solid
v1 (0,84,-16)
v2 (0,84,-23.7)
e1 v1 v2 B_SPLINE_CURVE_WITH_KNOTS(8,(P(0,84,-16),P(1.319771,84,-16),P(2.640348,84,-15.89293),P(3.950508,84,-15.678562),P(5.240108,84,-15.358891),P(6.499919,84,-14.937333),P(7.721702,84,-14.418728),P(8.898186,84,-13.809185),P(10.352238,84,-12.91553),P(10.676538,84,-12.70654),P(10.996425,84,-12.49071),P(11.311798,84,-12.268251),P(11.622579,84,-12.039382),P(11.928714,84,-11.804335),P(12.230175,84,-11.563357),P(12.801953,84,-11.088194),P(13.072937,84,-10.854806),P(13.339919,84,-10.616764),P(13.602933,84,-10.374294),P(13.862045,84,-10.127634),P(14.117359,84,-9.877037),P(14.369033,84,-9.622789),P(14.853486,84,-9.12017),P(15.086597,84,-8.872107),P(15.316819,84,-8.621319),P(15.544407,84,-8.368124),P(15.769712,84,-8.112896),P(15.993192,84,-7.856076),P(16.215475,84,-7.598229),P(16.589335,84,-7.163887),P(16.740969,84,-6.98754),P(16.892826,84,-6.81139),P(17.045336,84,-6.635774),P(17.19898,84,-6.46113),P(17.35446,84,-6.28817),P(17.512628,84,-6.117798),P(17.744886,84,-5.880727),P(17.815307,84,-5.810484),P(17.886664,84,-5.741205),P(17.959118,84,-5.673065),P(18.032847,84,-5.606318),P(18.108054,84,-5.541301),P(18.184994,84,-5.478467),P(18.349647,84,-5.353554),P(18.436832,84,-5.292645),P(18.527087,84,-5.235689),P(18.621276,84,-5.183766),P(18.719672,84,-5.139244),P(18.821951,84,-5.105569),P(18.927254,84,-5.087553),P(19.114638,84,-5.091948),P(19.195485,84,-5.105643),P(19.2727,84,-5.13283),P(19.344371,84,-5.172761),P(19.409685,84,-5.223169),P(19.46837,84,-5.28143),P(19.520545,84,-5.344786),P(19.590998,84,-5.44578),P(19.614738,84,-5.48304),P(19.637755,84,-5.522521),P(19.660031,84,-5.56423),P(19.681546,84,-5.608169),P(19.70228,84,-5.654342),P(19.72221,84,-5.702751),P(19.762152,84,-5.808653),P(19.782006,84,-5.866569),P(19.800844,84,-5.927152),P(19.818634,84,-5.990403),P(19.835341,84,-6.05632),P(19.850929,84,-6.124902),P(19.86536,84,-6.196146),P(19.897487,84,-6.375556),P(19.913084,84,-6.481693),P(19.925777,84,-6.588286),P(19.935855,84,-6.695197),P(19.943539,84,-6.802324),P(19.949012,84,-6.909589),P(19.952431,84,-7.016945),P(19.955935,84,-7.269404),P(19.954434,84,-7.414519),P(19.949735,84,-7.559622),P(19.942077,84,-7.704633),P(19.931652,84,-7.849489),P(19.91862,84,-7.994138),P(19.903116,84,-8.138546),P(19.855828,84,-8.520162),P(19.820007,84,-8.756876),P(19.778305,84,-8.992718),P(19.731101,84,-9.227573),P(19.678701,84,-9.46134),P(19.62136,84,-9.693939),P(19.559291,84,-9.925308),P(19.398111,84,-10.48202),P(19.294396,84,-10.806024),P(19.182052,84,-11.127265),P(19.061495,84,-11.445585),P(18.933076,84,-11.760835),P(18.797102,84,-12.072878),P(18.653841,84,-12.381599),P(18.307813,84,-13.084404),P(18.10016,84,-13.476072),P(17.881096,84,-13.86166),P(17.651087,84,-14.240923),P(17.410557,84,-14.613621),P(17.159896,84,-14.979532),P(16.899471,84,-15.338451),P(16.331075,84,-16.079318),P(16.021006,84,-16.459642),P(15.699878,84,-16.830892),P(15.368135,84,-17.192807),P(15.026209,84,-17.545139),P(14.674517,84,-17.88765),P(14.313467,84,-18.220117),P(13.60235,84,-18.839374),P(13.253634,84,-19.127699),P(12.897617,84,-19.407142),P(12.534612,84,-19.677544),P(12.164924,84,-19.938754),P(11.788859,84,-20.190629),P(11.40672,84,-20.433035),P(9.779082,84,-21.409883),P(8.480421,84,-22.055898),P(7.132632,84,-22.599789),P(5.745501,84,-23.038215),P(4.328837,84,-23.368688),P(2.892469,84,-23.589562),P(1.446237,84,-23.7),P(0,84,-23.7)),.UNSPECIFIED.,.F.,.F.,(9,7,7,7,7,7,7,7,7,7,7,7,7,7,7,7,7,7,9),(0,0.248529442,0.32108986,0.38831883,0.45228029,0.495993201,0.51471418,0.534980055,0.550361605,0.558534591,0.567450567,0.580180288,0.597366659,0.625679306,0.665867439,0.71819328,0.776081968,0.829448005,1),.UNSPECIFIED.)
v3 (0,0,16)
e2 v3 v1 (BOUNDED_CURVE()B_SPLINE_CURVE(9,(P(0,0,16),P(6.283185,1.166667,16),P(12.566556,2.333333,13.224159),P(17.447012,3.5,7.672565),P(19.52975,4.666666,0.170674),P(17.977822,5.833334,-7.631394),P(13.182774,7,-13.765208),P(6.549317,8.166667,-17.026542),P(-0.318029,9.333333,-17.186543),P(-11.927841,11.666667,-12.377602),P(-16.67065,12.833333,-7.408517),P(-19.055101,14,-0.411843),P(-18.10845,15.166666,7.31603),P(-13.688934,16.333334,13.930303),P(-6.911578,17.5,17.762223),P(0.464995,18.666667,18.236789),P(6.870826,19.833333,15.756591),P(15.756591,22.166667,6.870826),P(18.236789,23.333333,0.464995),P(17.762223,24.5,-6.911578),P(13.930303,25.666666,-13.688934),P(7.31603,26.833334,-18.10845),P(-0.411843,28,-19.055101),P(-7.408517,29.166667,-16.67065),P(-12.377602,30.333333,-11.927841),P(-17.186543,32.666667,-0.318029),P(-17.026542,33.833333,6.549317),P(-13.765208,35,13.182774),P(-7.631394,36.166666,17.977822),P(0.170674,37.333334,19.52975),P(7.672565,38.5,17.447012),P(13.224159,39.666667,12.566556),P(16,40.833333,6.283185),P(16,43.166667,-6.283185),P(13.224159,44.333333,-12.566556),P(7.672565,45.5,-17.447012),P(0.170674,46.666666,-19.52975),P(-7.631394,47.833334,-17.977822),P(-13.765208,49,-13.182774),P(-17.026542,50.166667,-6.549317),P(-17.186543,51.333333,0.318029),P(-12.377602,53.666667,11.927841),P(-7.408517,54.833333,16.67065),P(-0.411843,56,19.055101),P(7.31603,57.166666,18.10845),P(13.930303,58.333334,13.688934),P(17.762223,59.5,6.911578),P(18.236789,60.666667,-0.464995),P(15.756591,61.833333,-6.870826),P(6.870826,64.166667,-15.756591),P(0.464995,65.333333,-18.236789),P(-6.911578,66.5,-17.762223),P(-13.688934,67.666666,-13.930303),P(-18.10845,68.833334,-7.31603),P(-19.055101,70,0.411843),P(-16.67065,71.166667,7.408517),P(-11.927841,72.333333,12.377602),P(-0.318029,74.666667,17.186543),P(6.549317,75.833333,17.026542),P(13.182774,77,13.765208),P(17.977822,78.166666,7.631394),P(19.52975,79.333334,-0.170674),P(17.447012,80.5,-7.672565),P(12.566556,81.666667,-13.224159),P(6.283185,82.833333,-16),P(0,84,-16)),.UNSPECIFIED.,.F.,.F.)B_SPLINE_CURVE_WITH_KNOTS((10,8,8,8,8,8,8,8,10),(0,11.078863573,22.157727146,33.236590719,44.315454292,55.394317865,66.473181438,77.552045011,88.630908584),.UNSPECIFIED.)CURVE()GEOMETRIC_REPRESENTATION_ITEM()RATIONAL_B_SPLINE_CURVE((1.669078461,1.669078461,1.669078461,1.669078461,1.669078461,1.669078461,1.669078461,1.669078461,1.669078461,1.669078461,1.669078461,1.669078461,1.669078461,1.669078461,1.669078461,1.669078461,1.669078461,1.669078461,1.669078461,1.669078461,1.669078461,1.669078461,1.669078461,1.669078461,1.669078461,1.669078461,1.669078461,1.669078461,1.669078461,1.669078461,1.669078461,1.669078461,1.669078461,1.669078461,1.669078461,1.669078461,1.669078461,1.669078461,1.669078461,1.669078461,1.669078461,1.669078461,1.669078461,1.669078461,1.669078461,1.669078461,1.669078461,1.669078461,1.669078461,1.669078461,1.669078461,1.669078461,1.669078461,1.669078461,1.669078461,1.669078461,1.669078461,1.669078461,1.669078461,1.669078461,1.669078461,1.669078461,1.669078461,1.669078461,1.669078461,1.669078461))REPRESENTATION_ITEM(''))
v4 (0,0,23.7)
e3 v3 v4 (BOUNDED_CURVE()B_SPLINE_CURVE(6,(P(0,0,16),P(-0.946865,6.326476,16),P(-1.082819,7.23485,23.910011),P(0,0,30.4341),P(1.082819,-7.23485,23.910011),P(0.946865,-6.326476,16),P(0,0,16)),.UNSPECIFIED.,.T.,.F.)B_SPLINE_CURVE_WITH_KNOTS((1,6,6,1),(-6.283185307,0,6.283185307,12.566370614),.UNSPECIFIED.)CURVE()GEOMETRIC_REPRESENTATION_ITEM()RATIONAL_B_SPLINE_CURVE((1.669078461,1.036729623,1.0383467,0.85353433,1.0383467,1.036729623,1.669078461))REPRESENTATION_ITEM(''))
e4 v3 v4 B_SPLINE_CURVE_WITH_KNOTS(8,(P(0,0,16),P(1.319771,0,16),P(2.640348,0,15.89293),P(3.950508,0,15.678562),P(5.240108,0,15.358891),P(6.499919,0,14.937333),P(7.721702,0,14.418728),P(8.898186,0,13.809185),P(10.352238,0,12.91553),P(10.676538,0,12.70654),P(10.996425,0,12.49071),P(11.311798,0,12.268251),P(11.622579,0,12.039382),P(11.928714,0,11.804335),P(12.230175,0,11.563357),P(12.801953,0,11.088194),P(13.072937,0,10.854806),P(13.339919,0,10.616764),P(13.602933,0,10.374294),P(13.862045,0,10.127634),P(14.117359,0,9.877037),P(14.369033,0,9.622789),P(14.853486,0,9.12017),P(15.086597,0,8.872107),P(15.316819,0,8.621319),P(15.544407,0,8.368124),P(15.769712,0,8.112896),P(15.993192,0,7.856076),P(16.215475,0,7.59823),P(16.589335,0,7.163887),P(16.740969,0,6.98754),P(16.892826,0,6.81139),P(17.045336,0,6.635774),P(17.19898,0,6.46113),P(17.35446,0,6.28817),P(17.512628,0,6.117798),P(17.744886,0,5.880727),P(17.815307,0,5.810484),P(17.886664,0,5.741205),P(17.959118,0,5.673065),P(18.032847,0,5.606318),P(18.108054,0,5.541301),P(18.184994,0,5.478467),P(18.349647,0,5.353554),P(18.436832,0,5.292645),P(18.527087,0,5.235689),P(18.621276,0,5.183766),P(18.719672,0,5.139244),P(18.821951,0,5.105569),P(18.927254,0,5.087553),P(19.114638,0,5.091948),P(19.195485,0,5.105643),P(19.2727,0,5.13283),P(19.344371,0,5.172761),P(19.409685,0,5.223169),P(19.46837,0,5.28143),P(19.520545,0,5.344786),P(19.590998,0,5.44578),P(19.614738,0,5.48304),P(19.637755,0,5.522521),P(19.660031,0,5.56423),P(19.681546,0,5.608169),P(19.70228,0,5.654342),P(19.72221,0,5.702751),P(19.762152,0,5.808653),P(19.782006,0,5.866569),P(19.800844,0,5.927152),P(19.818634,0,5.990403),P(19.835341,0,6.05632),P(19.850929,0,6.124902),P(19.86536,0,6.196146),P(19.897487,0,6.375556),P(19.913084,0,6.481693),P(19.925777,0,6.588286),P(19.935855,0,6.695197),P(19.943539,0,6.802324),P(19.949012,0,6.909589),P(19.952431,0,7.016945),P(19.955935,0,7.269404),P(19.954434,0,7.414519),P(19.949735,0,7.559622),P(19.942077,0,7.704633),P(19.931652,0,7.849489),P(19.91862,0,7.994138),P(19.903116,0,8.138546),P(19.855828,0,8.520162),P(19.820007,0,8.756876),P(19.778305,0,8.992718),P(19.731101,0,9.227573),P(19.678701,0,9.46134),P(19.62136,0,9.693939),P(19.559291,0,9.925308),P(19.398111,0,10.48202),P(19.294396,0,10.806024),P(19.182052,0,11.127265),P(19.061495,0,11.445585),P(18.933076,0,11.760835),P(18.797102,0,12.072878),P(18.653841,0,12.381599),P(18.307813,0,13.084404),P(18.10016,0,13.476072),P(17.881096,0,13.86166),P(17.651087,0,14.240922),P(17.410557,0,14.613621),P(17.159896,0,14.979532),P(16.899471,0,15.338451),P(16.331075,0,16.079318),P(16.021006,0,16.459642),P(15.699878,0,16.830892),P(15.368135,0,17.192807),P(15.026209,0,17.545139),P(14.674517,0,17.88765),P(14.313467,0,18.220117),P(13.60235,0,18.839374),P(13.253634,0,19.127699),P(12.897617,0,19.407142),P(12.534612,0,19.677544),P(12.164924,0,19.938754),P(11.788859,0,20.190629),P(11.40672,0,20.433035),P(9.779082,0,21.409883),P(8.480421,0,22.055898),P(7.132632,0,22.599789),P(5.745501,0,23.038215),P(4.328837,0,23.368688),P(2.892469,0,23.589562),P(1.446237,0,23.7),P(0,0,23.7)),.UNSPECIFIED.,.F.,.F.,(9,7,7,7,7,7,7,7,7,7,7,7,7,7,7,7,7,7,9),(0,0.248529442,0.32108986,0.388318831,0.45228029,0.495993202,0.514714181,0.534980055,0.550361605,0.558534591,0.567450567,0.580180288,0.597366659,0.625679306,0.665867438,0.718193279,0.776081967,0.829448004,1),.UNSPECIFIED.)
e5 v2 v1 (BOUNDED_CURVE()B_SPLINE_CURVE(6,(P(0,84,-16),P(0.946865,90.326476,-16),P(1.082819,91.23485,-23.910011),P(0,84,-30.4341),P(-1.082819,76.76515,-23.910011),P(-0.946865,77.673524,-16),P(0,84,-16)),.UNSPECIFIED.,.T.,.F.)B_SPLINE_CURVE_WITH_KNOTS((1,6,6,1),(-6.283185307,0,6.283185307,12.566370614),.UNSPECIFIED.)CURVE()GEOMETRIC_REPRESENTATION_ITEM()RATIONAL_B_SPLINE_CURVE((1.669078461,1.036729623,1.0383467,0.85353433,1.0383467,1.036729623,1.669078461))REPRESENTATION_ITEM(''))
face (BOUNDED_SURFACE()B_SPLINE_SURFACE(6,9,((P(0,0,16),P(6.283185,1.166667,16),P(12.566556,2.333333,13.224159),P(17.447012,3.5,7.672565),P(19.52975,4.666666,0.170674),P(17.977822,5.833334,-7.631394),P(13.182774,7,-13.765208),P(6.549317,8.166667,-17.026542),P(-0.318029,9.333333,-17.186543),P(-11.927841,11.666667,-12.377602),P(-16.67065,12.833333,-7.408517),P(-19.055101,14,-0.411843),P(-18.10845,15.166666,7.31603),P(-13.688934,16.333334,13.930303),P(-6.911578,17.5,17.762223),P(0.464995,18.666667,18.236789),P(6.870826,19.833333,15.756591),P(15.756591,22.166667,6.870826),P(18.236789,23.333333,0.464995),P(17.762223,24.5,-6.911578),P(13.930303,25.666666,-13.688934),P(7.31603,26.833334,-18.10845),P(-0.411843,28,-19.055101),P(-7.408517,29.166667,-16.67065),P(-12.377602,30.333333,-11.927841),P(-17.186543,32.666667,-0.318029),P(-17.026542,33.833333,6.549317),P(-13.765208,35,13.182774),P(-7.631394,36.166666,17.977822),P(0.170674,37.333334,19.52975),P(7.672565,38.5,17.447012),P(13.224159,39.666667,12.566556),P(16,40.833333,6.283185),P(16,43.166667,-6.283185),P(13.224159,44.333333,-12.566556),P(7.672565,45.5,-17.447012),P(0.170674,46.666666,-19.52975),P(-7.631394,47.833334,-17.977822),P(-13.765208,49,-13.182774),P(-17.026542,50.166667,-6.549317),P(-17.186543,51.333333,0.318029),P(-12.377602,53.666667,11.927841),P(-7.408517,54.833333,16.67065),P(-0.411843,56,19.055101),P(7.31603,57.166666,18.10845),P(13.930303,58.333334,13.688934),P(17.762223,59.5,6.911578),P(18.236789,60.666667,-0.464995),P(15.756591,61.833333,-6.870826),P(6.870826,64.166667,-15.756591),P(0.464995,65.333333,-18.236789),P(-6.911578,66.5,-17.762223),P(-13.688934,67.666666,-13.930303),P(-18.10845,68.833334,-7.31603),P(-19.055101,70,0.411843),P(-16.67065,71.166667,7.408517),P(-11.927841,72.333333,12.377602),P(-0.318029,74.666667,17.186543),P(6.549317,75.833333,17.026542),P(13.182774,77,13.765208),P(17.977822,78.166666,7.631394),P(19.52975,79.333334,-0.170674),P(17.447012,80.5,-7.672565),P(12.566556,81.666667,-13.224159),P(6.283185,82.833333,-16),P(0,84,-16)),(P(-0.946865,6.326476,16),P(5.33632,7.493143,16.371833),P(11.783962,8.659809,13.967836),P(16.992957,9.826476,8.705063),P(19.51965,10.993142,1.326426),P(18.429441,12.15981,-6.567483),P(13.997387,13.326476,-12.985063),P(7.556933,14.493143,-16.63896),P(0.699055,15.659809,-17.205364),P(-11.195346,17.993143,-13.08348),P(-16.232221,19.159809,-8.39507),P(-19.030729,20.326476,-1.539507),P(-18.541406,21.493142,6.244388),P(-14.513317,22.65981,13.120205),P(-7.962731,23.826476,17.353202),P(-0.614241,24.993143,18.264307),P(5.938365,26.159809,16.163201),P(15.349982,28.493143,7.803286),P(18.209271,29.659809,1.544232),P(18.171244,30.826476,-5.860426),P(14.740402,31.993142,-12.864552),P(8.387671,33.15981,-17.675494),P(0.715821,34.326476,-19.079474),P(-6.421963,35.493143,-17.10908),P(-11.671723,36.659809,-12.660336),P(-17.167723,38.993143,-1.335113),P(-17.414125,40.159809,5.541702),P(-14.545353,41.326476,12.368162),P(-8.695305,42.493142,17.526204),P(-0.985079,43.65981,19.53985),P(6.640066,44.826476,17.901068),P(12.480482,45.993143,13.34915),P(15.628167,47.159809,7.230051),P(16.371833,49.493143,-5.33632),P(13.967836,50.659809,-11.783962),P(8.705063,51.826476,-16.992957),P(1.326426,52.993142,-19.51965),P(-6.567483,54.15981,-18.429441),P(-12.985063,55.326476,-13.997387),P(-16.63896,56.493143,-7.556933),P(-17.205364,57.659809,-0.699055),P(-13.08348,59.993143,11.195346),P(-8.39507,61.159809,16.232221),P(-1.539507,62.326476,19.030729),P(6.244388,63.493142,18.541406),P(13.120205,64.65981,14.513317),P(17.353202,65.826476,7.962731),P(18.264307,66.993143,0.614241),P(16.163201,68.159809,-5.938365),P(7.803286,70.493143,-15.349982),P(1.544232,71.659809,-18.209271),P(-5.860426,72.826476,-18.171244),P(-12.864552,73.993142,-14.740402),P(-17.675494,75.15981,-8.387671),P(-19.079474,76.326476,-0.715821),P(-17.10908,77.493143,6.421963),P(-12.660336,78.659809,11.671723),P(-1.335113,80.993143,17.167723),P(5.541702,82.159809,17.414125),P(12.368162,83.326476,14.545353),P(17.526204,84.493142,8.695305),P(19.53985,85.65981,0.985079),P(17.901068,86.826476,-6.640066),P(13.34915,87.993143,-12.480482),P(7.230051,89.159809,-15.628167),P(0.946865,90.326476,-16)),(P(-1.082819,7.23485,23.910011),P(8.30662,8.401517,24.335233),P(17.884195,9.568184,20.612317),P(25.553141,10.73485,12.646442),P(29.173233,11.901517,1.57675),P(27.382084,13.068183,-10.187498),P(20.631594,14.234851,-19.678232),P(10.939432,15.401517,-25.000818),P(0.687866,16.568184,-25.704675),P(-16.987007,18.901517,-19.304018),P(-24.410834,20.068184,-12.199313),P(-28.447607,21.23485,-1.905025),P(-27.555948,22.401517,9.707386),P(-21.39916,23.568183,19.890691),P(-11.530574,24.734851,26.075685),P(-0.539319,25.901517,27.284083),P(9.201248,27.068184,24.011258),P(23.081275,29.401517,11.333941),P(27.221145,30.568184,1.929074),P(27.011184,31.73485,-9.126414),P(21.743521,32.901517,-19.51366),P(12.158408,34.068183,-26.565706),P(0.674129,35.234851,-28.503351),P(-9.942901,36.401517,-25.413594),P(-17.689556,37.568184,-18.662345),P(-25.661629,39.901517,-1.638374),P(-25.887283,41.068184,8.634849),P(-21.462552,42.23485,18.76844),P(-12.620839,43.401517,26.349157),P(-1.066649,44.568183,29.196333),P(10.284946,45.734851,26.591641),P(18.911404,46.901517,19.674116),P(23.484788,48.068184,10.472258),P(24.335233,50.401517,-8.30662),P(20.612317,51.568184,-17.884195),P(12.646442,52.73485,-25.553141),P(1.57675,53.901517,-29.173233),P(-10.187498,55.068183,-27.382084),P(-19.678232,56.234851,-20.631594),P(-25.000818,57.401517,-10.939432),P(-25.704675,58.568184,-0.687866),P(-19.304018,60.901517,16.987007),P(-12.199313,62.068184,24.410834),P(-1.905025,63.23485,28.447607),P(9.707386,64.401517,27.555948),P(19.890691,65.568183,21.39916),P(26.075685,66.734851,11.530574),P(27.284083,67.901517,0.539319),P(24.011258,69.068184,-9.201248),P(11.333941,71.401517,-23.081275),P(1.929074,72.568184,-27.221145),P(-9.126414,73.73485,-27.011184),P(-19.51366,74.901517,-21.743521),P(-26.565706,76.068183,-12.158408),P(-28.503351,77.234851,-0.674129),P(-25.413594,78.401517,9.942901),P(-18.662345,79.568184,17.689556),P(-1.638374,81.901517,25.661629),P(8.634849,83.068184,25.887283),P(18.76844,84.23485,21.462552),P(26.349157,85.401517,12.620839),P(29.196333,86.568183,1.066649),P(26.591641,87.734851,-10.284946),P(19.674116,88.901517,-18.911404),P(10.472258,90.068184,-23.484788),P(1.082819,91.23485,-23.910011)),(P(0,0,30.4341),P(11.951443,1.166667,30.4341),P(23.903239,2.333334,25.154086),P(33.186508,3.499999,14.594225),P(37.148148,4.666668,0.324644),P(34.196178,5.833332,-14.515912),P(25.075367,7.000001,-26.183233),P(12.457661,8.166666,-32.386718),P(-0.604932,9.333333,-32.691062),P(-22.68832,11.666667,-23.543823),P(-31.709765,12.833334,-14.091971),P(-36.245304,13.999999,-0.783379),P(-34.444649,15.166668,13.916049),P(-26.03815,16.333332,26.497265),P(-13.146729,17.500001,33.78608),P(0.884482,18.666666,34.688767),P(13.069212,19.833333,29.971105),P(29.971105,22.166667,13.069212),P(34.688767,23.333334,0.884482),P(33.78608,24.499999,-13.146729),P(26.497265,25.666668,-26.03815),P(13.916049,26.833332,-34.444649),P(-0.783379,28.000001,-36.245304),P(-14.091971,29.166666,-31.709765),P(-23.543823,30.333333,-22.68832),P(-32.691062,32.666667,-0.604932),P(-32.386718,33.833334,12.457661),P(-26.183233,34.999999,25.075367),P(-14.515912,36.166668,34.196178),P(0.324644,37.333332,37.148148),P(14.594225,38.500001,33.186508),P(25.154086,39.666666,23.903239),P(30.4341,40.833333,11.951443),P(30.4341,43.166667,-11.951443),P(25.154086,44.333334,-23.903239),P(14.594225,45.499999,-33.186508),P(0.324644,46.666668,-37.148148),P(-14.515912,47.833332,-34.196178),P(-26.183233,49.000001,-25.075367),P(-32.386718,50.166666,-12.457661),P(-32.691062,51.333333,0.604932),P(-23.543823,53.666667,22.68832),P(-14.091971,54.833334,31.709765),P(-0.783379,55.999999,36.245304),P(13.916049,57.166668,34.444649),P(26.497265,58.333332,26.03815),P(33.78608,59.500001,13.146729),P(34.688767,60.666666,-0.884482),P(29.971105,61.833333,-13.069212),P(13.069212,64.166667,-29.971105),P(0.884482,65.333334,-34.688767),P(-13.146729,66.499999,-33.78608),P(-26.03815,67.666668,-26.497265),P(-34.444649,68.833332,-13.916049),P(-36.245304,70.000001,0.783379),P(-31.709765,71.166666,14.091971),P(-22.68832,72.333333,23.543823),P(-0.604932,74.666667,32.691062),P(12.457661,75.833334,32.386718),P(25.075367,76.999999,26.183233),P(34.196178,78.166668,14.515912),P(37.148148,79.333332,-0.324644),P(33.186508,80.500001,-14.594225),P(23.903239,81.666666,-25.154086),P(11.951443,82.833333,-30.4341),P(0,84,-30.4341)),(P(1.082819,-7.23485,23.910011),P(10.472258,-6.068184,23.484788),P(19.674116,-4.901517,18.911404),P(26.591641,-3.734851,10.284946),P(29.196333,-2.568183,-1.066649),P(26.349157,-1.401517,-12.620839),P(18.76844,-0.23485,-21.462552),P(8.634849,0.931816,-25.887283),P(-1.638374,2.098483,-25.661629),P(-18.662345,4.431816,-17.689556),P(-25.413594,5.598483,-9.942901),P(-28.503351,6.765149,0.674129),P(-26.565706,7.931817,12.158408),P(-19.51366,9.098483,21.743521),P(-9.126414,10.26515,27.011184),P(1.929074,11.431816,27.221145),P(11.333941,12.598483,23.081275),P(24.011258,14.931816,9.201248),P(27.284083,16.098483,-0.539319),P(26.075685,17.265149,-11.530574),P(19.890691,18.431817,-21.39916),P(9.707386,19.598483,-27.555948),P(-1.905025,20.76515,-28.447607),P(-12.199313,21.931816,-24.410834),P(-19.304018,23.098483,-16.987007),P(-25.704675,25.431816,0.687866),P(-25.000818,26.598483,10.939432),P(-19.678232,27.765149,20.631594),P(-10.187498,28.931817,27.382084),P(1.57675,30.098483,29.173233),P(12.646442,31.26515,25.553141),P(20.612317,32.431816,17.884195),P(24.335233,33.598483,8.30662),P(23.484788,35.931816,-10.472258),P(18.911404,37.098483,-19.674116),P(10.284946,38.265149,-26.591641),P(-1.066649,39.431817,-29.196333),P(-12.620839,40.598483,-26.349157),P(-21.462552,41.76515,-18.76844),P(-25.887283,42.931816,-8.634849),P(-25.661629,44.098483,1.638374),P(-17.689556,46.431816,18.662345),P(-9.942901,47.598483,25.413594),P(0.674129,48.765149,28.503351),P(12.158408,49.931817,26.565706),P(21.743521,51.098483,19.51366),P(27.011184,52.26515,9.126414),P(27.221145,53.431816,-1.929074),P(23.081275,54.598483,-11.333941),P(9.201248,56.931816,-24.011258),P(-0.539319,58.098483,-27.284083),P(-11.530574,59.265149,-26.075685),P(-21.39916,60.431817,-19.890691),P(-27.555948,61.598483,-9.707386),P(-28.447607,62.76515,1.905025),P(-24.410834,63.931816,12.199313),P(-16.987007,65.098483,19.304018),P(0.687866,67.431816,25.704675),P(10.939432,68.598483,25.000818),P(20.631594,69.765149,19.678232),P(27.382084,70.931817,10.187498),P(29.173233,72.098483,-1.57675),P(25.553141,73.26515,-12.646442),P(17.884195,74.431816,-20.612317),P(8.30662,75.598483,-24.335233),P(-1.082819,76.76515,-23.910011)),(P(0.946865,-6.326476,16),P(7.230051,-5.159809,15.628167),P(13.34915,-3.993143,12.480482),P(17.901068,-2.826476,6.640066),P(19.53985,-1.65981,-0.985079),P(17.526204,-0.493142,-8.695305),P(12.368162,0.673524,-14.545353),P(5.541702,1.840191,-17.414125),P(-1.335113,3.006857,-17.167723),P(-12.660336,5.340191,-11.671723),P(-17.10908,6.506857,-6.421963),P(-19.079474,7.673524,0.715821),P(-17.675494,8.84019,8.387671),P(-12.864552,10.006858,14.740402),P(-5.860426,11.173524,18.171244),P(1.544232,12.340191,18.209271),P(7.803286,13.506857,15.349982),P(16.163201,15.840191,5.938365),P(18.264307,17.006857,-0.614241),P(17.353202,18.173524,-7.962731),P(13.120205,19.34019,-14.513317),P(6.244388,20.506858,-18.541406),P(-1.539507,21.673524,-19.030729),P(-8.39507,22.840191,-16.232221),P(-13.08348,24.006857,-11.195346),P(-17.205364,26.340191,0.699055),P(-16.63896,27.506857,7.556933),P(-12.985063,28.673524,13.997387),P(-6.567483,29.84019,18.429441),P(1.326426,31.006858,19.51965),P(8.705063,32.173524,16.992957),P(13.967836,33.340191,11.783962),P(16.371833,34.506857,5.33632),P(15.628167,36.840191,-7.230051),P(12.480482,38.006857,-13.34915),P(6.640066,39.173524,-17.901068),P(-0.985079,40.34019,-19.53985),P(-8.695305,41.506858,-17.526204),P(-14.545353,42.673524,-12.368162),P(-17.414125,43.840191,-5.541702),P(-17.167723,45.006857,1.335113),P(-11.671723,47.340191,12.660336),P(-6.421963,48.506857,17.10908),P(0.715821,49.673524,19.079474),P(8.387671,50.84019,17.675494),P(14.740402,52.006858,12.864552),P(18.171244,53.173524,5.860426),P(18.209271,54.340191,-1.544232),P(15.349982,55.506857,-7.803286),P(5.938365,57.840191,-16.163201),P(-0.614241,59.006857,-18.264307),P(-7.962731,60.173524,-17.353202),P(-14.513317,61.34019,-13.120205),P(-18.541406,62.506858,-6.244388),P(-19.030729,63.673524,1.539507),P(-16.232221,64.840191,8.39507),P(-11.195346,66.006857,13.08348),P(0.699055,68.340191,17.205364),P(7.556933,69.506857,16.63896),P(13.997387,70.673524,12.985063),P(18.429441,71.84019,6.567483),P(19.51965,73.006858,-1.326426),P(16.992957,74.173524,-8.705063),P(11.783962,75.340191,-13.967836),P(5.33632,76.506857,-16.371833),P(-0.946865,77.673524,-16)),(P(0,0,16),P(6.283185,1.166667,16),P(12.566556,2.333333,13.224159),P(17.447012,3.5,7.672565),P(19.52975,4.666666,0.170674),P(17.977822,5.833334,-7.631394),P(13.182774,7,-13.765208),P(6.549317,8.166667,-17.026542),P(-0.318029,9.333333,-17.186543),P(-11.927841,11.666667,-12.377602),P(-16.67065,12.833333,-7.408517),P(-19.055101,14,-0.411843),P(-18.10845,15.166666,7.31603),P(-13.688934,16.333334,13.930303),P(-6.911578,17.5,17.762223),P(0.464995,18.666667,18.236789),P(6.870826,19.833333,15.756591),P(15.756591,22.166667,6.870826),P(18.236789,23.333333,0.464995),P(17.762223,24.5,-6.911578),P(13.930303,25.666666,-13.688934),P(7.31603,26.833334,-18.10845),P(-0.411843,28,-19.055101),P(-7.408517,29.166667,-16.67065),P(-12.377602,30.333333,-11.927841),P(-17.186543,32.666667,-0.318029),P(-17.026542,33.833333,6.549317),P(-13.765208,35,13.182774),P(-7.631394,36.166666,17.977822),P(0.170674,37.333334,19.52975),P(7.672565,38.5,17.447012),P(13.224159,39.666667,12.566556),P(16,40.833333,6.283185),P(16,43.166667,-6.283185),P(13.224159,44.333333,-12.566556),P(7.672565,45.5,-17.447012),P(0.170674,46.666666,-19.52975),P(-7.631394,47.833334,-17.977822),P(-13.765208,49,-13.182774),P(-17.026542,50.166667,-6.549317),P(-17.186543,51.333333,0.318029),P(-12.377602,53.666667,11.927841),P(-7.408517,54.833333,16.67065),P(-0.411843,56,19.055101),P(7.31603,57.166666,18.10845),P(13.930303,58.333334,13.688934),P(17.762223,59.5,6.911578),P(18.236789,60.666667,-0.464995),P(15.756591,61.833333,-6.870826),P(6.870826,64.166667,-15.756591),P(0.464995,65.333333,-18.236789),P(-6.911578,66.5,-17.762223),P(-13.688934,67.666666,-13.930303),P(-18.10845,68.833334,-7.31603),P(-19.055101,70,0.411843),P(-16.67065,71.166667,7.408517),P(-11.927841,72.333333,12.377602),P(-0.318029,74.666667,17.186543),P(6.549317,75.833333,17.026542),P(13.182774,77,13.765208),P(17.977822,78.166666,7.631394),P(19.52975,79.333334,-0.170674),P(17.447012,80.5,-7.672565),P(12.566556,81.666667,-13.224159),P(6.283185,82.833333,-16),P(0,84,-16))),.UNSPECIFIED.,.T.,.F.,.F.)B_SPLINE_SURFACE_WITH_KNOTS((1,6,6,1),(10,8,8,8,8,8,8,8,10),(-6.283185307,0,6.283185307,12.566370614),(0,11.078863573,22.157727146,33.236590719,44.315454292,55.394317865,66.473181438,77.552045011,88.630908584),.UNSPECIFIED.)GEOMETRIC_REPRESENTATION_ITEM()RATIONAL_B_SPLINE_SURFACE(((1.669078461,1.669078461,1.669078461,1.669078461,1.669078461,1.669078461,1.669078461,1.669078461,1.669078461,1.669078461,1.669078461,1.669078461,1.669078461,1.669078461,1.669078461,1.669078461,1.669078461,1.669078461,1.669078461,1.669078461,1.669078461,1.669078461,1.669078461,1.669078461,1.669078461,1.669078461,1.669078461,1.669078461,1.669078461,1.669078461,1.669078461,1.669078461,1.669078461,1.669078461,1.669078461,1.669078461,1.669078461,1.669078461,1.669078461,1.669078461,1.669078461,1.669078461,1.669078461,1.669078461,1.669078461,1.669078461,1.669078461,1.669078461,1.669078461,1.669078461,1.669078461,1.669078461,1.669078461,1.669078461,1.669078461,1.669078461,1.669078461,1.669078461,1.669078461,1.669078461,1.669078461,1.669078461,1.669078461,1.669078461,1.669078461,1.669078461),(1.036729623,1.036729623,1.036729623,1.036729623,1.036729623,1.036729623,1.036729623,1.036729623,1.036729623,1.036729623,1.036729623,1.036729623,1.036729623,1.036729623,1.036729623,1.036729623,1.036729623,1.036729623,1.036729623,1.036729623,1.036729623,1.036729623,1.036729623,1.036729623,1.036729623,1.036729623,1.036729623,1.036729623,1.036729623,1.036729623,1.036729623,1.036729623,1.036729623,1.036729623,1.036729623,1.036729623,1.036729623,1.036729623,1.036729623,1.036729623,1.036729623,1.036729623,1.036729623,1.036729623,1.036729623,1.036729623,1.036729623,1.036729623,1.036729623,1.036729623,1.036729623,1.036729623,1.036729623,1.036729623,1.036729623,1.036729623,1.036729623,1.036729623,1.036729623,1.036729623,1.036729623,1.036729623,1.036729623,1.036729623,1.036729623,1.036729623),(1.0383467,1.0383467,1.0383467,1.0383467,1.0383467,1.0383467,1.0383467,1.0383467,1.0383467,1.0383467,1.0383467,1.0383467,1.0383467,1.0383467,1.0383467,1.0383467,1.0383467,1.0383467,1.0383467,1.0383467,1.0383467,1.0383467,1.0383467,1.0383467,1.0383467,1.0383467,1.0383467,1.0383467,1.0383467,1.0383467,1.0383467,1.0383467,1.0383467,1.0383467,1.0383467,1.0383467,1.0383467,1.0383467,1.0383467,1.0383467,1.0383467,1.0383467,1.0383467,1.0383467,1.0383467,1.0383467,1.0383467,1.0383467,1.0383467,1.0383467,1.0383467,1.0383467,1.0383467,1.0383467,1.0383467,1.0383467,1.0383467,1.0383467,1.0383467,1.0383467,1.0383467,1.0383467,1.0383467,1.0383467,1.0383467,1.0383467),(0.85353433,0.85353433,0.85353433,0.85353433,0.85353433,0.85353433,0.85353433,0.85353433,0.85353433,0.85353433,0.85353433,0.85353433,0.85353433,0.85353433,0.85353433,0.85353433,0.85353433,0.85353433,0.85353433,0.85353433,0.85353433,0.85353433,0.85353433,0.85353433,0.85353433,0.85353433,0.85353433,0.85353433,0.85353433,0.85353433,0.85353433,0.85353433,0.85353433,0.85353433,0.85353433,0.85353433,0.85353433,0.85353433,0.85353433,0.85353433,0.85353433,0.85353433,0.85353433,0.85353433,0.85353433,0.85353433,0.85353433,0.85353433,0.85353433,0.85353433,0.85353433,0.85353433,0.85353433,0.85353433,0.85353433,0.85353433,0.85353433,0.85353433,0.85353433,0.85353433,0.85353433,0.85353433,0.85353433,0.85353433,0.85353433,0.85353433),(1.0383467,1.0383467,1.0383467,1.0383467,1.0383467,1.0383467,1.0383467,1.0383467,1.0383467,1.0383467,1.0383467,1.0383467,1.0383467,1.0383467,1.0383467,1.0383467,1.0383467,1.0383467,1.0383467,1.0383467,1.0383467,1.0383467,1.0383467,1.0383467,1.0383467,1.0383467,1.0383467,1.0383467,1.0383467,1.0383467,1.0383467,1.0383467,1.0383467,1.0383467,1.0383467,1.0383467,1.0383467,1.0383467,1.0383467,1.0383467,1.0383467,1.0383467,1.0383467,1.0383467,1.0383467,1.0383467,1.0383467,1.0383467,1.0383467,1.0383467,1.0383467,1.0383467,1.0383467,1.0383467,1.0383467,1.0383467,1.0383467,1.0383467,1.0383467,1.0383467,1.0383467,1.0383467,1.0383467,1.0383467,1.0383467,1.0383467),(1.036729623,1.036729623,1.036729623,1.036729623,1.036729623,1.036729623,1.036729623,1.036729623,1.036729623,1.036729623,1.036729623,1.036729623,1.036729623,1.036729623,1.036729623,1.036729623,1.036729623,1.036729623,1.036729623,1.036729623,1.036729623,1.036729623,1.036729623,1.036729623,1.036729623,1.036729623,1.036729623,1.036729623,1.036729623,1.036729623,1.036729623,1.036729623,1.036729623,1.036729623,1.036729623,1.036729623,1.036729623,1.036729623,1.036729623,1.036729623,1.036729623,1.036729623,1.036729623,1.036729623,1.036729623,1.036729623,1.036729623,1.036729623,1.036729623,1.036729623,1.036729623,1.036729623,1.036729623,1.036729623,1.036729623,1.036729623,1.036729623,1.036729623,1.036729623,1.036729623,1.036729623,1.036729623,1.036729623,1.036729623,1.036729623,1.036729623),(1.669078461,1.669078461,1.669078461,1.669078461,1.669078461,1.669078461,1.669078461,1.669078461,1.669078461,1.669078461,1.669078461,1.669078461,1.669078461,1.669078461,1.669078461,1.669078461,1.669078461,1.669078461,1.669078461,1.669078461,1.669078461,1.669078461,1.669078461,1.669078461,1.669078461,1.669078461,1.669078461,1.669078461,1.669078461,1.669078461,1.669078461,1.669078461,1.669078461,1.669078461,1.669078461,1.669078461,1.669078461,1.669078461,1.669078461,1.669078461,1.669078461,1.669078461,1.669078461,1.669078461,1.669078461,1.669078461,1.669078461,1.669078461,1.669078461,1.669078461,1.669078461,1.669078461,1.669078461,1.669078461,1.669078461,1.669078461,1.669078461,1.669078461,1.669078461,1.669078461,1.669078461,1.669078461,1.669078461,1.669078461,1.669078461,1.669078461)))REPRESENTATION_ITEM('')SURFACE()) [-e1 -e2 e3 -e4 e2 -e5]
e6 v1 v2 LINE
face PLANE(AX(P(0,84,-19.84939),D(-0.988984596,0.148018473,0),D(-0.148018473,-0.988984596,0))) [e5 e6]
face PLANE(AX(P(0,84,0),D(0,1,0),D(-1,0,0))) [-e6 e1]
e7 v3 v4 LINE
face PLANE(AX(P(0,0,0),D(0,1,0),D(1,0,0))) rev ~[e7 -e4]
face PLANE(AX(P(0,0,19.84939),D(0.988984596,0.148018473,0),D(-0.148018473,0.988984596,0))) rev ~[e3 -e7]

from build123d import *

# Parameters (mm, degrees)
SWEEP1_PITCH       = 18.666666667
SWEEP1_HEIGHT      = 84
SWEEP1_RADIUS      = 19.85
SKETCH4_R          = 3.85
SKETCH5_R          = 41.506662124
CUT_EXTRUDE1_DEPTH = 10
SKETCH6_R          = 43.039357924
CUT_EXTRUDE2_DEPTH = 10


with BuildPart() as part:
    # Sweep1: sweep along a helix
    with BuildLine() as sweep1_path:
        Helix(SWEEP1_PITCH, SWEEP1_HEIGHT, SWEEP1_RADIUS, center=(0, 0, 0), direction=(0, 1, 0))
    # Sketch4 → Sweep1 (sweep)
    with BuildSketch(Plane(origin=(0, 0, 19.85), x_dir=(0, 0, -1), z_dir=(0.9889845962348189, 0.14801847320605796, 0))):
        Circle(SKETCH4_R)
    sweep(path=sweep1_path.line, is_frenet=True)

    # Sketch5 → Cut-Extrude1 (cut)
    with BuildSketch(Plane(origin=(0, 0, 0), x_dir=(1, 0, 0), z_dir=(0, 1, 0))):
        Circle(SKETCH5_R)
    extrude(amount=-CUT_EXTRUDE1_DEPTH, mode=Mode.SUBTRACT)

    # Sketch6 → Cut-Extrude2 (cut)
    with BuildSketch(Plane(origin=(0, 84, 0), x_dir=(-1, 0, 0), z_dir=(0, 1, 0))):
        Circle(SKETCH6_R)
    extrude(amount=CUT_EXTRUDE2_DEPTH, mode=Mode.SUBTRACT)


solid = part.part
